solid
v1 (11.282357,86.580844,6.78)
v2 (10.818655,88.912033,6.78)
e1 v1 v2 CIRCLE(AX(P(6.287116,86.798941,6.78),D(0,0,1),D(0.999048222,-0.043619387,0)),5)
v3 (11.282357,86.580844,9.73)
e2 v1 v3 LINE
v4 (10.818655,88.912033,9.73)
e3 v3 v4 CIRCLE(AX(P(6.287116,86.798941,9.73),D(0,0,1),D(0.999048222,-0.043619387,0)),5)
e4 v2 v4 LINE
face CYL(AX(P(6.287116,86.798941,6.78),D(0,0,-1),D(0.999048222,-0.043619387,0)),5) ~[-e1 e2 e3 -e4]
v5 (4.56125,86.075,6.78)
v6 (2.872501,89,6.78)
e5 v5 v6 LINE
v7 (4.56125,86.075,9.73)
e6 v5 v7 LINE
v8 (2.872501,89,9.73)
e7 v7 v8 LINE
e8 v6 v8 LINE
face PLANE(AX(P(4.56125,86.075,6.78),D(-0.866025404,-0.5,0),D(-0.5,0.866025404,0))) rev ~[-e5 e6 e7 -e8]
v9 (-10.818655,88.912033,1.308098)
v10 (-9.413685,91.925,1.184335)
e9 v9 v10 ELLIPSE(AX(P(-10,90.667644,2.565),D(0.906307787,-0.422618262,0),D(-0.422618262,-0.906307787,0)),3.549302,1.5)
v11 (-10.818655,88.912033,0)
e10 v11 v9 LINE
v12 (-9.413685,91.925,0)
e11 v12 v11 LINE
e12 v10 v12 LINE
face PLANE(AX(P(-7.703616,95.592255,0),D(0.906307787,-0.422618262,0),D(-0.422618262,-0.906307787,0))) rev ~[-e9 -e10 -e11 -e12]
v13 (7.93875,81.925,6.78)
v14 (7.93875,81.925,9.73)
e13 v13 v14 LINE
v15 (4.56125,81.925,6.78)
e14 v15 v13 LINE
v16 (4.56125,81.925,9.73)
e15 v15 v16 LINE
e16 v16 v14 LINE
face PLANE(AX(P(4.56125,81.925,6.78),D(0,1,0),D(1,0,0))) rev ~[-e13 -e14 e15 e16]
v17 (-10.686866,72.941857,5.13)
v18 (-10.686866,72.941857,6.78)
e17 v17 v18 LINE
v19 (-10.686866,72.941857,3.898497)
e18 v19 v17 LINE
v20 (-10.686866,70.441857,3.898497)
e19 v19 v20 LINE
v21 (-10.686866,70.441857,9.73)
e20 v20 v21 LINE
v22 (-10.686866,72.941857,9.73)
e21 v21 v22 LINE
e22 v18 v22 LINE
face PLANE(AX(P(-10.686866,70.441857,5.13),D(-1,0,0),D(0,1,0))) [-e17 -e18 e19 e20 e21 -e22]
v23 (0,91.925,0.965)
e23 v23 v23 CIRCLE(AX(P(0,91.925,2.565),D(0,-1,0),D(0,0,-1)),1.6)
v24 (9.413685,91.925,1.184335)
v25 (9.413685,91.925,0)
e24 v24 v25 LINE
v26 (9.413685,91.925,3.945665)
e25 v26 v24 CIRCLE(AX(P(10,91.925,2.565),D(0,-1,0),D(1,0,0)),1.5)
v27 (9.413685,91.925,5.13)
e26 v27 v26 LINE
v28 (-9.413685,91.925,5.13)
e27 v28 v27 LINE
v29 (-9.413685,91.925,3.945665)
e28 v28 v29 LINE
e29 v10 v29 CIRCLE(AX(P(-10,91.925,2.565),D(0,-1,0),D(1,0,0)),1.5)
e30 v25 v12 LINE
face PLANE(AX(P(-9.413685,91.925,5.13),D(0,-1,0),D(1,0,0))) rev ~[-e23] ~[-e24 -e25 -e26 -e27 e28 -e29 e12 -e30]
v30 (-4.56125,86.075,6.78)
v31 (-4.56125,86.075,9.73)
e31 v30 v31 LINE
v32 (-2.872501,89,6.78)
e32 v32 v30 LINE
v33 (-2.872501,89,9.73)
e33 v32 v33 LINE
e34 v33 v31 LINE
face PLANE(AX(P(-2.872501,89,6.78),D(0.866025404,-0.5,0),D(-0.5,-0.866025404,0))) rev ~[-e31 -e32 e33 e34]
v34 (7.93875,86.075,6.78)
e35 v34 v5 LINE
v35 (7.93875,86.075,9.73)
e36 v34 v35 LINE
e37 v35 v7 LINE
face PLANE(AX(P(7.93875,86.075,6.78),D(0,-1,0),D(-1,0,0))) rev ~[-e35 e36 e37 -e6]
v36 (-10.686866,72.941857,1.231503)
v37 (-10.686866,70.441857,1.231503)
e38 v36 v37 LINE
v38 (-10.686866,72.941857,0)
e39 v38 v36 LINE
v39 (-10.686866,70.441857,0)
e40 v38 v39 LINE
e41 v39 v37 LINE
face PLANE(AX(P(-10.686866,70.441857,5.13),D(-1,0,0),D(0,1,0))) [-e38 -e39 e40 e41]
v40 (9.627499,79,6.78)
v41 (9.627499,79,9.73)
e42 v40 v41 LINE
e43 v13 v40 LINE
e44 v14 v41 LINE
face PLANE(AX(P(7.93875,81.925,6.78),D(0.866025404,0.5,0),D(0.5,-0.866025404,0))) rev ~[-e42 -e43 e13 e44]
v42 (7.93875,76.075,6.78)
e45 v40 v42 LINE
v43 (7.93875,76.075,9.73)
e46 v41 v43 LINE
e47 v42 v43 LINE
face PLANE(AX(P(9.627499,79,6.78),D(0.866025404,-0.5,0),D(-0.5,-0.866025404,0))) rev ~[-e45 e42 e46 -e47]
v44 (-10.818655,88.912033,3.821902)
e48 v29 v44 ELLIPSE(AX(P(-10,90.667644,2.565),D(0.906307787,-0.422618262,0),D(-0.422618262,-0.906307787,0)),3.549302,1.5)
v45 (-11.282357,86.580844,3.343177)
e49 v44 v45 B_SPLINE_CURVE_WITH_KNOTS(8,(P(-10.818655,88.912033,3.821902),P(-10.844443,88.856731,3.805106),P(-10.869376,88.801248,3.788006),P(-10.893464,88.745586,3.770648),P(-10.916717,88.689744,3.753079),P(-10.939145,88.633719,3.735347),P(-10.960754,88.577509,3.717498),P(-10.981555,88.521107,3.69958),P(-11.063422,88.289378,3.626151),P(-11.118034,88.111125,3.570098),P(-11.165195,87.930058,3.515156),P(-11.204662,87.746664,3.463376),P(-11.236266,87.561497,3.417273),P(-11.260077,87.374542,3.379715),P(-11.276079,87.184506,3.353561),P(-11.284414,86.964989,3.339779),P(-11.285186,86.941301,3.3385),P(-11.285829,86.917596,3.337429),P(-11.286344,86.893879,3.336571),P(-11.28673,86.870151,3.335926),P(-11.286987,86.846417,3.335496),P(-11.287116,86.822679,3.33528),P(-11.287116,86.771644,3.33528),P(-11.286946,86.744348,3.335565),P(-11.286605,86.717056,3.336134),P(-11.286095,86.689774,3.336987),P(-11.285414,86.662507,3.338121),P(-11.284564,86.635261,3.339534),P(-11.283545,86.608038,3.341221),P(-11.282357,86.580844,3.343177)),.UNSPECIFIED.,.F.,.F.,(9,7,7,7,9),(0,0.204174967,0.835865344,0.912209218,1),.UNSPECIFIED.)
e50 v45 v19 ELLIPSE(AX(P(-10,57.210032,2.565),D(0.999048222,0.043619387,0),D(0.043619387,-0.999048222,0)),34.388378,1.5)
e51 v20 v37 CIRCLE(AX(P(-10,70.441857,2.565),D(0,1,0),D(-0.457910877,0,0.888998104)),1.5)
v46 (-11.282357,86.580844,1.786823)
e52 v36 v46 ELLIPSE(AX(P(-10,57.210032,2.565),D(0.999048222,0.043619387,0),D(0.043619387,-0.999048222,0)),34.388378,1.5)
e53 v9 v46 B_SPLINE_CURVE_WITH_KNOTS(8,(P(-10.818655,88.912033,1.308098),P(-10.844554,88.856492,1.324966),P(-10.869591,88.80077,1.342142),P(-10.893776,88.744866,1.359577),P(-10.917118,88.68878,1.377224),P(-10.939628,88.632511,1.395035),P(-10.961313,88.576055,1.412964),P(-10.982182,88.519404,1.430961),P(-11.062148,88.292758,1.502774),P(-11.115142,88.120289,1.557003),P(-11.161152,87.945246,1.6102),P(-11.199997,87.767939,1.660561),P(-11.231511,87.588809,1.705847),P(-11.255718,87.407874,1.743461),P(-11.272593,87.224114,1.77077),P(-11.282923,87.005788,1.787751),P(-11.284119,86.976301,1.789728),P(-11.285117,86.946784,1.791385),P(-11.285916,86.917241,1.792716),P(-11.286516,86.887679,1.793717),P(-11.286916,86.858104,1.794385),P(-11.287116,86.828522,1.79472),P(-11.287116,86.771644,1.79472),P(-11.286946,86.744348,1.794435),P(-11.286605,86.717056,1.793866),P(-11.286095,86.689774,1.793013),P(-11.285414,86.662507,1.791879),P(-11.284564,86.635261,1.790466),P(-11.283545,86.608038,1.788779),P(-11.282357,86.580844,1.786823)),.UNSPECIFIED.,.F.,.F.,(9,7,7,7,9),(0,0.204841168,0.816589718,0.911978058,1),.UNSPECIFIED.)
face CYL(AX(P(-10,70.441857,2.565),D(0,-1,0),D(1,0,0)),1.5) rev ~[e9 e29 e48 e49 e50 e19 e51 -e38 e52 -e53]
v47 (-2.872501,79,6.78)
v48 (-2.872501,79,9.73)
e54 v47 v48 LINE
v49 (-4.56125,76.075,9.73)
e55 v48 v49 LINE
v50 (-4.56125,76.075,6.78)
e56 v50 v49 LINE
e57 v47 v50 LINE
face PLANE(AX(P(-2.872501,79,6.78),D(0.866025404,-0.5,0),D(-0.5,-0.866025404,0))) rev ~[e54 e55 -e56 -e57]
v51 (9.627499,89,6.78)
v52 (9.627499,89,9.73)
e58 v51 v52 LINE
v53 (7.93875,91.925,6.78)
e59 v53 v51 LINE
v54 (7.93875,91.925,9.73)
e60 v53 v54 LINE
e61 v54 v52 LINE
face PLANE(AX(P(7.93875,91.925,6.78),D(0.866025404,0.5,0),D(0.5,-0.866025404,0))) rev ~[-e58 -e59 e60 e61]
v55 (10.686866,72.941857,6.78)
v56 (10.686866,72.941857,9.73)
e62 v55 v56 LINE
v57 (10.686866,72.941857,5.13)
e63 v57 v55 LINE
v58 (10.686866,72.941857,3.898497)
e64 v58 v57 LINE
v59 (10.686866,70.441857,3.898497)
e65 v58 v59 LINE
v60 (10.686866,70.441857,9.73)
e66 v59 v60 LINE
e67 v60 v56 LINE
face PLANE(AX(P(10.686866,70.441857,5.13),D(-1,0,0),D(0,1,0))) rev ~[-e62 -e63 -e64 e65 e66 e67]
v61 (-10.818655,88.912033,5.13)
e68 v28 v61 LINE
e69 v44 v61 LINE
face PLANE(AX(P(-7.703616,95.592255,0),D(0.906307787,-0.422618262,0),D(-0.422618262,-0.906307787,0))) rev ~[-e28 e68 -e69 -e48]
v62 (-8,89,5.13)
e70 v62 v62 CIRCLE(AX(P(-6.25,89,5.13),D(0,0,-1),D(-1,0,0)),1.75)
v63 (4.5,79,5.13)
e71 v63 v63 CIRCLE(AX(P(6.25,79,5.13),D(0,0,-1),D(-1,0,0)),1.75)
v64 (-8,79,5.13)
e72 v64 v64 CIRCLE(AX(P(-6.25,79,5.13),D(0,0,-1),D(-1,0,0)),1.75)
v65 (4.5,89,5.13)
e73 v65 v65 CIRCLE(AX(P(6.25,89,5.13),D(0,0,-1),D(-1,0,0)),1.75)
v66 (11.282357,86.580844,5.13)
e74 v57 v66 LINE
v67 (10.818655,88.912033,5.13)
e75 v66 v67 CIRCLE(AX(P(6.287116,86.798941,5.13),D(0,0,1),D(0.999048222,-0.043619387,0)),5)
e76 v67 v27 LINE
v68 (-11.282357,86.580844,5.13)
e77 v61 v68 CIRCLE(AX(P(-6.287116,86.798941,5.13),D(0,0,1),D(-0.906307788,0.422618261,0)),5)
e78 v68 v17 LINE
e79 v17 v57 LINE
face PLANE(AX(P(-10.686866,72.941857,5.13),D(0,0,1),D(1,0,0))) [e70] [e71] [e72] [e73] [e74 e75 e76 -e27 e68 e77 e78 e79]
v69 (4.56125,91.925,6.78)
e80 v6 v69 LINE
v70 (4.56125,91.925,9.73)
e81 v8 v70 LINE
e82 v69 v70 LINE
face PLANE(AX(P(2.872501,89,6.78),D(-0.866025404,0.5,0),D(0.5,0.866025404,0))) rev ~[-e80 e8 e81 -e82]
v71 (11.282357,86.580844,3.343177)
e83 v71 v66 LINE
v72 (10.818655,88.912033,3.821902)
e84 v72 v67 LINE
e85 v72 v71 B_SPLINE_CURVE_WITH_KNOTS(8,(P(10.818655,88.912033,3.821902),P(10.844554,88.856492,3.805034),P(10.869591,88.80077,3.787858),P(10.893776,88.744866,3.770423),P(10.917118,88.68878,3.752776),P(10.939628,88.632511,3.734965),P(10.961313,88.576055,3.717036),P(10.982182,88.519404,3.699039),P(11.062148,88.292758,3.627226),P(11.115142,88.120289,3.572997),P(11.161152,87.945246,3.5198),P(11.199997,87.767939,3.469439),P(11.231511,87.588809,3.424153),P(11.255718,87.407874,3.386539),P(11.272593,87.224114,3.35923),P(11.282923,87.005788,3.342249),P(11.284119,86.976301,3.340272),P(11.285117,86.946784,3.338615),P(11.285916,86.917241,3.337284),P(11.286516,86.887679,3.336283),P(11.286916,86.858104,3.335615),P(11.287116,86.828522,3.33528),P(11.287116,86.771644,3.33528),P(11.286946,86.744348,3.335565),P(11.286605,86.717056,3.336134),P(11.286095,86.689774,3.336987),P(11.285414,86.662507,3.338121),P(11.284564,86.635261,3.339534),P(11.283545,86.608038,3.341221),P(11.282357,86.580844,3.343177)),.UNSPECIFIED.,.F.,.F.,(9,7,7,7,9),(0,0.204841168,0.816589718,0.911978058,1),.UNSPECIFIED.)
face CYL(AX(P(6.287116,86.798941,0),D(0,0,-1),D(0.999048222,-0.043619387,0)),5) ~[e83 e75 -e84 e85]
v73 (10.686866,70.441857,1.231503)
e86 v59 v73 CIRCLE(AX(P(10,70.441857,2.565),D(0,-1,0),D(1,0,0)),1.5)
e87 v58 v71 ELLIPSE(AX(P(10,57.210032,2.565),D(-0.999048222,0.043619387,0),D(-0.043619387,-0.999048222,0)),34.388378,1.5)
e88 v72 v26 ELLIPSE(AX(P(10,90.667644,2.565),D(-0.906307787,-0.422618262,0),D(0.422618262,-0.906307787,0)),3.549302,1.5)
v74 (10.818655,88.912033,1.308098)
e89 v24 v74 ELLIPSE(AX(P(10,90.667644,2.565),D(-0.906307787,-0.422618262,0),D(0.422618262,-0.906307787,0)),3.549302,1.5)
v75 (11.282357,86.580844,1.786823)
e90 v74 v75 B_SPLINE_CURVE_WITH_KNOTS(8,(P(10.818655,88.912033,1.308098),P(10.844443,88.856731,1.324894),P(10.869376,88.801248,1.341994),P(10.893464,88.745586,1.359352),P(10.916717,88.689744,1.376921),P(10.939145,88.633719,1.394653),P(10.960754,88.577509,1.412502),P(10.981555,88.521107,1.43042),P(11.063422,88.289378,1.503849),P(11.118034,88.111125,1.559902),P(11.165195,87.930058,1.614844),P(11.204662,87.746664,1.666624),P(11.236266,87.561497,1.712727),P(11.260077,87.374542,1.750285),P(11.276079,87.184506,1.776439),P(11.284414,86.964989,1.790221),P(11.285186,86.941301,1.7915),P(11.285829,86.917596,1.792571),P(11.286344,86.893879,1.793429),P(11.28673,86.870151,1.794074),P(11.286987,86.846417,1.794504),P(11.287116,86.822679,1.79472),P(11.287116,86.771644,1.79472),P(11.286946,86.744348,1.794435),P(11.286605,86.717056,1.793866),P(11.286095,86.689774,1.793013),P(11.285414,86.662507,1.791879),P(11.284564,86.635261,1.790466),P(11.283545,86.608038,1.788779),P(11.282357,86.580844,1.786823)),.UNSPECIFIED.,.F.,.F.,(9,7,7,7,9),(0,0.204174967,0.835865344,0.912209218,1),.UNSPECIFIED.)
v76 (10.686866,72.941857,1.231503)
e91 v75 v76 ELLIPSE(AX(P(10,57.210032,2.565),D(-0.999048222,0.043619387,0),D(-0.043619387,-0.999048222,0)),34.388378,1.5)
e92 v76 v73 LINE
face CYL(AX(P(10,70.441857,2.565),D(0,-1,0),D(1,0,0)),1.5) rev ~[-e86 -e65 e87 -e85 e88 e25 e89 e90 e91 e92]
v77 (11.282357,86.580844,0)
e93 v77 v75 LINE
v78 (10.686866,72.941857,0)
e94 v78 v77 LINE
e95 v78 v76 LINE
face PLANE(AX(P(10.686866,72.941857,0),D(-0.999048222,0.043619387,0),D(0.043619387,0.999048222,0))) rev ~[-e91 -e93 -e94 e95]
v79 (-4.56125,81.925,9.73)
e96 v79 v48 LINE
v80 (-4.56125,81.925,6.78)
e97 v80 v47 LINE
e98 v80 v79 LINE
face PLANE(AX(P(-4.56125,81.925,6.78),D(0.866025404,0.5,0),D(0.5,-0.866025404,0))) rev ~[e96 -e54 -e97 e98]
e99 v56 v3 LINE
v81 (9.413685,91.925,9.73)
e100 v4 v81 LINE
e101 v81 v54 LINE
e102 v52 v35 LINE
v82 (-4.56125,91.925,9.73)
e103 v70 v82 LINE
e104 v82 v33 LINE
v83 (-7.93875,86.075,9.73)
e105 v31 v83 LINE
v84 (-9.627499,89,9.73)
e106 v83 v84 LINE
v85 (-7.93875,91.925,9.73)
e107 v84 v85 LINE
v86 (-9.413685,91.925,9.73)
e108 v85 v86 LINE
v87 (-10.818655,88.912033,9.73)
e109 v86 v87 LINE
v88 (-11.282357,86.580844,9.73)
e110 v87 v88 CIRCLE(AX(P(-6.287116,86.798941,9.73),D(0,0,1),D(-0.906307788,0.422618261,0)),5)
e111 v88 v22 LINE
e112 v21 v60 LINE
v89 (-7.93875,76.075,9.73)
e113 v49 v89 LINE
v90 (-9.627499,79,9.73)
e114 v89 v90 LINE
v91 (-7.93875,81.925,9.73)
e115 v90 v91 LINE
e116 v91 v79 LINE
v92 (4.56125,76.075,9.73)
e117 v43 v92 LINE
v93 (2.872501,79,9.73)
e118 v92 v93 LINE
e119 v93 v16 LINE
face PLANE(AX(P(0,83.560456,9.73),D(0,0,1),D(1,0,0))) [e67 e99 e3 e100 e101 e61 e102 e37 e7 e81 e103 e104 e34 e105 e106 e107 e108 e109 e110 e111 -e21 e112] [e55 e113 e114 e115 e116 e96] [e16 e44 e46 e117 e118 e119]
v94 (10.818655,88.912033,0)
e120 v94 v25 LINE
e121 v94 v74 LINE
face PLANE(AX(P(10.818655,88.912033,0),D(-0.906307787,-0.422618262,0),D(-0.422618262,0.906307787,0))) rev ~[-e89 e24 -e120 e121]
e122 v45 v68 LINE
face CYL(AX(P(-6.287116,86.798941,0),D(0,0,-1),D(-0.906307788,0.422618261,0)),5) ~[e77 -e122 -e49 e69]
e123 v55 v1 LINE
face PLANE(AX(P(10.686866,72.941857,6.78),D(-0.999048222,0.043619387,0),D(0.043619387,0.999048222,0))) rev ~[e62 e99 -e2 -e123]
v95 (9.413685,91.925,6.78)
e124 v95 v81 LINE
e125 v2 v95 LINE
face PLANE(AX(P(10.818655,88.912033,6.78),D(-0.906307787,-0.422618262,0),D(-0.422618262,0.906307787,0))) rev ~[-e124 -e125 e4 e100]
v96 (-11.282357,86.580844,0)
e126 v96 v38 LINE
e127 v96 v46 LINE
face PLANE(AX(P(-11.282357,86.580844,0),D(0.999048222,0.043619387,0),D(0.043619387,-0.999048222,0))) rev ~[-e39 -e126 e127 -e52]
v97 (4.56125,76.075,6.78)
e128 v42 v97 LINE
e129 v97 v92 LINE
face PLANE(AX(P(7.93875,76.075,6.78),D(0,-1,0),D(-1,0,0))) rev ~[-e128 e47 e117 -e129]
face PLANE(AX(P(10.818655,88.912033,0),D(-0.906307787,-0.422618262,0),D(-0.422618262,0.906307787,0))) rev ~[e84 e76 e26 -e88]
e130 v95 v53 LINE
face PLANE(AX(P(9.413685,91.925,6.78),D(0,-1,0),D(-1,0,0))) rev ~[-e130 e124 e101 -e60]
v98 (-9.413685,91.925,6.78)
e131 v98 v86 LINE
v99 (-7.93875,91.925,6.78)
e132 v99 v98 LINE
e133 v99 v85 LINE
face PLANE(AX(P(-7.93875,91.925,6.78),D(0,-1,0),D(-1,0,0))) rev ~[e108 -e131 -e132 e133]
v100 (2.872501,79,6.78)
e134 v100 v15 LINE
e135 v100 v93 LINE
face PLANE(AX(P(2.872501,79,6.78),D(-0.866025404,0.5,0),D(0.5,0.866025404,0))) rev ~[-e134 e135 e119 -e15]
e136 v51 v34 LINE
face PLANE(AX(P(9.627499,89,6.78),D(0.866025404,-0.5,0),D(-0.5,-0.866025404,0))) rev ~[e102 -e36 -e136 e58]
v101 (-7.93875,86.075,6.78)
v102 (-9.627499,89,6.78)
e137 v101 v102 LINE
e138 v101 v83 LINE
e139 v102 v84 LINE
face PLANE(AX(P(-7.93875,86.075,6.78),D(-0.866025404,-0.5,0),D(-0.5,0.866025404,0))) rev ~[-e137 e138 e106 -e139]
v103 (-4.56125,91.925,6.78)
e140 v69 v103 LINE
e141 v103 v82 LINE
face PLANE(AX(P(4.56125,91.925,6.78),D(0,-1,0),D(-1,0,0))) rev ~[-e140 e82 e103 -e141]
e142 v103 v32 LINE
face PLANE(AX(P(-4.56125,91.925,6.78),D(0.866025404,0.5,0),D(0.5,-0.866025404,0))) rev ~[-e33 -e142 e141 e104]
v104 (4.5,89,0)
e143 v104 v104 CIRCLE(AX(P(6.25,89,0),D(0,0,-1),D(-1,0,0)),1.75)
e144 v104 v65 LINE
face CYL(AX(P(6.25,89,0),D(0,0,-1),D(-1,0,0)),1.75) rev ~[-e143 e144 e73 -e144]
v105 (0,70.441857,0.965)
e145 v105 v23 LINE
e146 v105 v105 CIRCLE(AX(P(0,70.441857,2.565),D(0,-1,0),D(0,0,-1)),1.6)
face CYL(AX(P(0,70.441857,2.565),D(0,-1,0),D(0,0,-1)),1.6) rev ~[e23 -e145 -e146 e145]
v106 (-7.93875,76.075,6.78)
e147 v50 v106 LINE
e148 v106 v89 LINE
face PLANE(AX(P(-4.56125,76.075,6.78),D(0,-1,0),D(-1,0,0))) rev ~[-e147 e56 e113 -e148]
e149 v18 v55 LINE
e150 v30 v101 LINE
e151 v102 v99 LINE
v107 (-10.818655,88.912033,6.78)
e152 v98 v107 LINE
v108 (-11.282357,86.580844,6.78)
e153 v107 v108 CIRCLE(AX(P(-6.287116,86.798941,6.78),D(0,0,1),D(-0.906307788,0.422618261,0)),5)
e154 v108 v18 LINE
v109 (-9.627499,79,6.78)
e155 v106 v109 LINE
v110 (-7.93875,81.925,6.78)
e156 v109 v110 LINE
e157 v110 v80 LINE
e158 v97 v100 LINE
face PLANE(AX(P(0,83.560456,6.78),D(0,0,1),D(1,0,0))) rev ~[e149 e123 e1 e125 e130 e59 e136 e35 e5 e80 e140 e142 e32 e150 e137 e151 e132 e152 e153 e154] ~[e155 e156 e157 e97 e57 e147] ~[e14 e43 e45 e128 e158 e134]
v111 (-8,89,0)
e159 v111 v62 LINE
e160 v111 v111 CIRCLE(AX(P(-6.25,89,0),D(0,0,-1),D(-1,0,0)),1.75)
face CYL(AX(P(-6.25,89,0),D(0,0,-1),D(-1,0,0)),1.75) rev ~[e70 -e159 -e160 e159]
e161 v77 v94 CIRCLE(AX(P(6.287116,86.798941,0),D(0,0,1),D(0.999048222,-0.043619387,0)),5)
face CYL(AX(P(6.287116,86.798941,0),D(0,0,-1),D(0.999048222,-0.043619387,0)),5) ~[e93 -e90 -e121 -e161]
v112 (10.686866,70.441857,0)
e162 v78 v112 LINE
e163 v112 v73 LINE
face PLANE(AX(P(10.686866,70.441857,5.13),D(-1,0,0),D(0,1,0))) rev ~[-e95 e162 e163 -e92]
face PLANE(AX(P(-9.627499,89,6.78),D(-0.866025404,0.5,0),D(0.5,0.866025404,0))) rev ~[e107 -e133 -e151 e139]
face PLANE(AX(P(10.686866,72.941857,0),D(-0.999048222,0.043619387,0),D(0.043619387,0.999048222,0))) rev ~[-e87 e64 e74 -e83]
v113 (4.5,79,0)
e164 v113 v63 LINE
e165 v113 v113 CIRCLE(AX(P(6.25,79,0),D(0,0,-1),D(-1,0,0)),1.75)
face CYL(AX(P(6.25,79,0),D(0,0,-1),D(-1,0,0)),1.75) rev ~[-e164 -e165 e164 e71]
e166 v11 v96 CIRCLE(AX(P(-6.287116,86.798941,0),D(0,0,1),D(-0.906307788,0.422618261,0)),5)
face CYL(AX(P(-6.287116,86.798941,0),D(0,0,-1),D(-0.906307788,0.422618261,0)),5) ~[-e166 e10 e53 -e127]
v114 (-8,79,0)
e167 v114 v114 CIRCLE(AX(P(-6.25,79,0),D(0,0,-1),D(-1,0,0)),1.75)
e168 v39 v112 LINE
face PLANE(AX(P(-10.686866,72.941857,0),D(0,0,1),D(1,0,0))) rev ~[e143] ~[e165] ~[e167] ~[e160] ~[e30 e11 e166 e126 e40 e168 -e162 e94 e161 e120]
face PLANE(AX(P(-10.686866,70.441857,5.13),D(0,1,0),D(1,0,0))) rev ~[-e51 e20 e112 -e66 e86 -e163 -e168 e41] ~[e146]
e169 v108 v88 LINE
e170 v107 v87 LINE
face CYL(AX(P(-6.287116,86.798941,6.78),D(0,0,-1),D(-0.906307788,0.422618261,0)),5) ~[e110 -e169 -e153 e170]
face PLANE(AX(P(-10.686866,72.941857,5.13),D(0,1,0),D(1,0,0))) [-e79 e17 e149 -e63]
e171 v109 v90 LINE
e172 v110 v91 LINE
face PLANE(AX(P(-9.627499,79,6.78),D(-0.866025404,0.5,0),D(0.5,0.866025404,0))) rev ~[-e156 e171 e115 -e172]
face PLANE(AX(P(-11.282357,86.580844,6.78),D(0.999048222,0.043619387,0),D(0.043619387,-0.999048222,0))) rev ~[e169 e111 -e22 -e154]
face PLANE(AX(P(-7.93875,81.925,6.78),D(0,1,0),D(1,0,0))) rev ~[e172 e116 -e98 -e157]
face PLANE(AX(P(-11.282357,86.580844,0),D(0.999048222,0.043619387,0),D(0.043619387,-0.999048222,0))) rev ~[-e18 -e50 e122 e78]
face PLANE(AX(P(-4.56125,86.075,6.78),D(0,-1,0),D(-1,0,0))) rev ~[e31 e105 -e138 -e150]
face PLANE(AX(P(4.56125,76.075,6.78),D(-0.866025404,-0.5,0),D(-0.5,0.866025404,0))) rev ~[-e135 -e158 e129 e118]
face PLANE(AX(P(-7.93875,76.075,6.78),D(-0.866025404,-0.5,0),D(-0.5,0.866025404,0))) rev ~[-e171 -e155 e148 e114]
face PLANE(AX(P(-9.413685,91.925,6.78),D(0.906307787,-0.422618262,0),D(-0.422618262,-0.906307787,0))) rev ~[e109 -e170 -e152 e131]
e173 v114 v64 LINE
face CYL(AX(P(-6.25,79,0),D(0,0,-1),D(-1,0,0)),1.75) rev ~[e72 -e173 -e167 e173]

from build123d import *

# Parameters (mm, degrees)
SKETCH1_R           = 1.5
BOSS_EXTRUDE1_DEPTH = 5.13
SKETCH2_W           = 21.373732632
SKETCH2_H           = 5.13
BOSS_EXTRUDE2_DEPTH = 2.5
SKETCH3_W           = 21.373732632
SKETCH3_H           = 2.5
BOSS_EXTRUDE3_DEPTH = 4.6
BOSS_EXTRUDE4_START = -2.95
BOSS_EXTRUDE4_DEPTH = 2.95
CUT_EXTRUDE1_REACH  = 103.599
SKETCH5_R           = 1.75
SKETCH6_R           = 1.6
SKETCH6_R_2         = 1.5
CUT_EXTRUDE2_DEPTH  = 34.549423701
CUT_EXTRUDE3_REACH  = 103.262


with BuildPart() as part:
    # Sketch1 → Boss-Extrude1 (new body)
    with BuildSketch(Plane.XY):
        with BuildLine():
            Line((-11.282357346, 86.580844321), (-10.686866316, 72.941857381))
            Line((-10.686866316, 72.941857381), (10.686866316, 72.941857381))
            Line((10.686866316, 72.941857381), (11.282357346, 86.580844321))
            ThreePointArc((11.282357346, 86.580844321), (11.19104264, 87.774392868), (10.818655174, 88.912032567))
            Line((10.818655174, 88.912032567), (7.70361619, 95.592255225))
            ThreePointArc((7.70361619, 95.592255225), (0, 100.5), (-7.70361619, 95.592255225))
            Line((-7.70361619, 95.592255225), (-10.818655174, 88.912032567))
            ThreePointArc((-10.818655174, 88.912032567), (-11.19104264, 87.774392868), (-11.282357346, 86.580844321))
        make_face()
        with Locations((-6.25, 79)):
            Circle(SKETCH1_R, mode=Mode.SUBTRACT)
        with Locations((-6.25, 89)):
            Circle(SKETCH1_R, mode=Mode.SUBTRACT)
        with Locations((6.25, 79)):
            Circle(SKETCH1_R, mode=Mode.SUBTRACT)
        with Locations((6.25, 89)):
            Circle(SKETCH1_R, mode=Mode.SUBTRACT)
    extrude(amount=BOSS_EXTRUDE1_DEPTH)

    # Sketch2 → Boss-Extrude2 (add)
    with BuildSketch(Plane.XZ.offset(-72.941857381)):
        with Locations((0, 2.565)):
            Rectangle(SKETCH2_W, SKETCH2_H)
    extrude(amount=BOSS_EXTRUDE2_DEPTH)

    # Sketch3 → Boss-Extrude3 (add)
    with BuildSketch(Plane.XY.offset(5.13)):
        with Locations((0, 71.691857381)):
            Rectangle(SKETCH3_W, SKETCH3_H)
    extrude(amount=BOSS_EXTRUDE3_DEPTH)

    # Sketch4 → Boss-Extrude4 (add)
    with BuildSketch(Plane.XY.offset(9.73).offset(BOSS_EXTRUDE4_START)):
        with BuildLine():
            Line((4.561250463, 86.075), (2.872500925, 89))
            Line((2.872500925, 89), (4.561250463, 91.925))
            Line((4.561250463, 91.925), (-4.561250463, 91.925))
            Line((-4.561250463, 91.925), (-2.872500925, 89))
            Line((-2.872500925, 89), (-4.561250463, 86.075))
            Line((-4.561250463, 86.075), (-7.938749537, 86.075))
            Line((-7.938749537, 86.075), (-9.627499075, 89))
            Line((-9.627499075, 89), (-7.938749537, 91.925))
            Line((-7.938749537, 91.925), (-9.413685386, 91.925))
            Line((-9.413685386, 91.925), (-10.818655174, 88.912032567))
            ThreePointArc((-10.818655174, 88.912032567), (-11.19104264, 87.774392868), (-11.282357346, 86.580844321))
            Line((-11.282357346, 86.580844321), (-10.686866316, 72.941857381))
            Line((-10.686866316, 72.941857381), (10.686866316, 72.941857381))
            Line((10.686866316, 72.941857381), (11.282357346, 86.580844321))
            ThreePointArc((11.282357346, 86.580844321), (11.19104264, 87.774392868), (10.818655174, 88.912032567))
            Line((10.818655174, 88.912032567), (9.413685386, 91.925))
            Line((9.413685386, 91.925), (7.938749537, 91.925))
            Line((7.938749537, 91.925), (9.627499075, 89))
            Line((9.627499075, 89), (7.938749537, 86.075))
            Line((7.938749537, 86.075), (4.561250463, 86.075))
        make_face()
        Polygon((-4.561250463, 81.925), (-2.872500925, 79), (-4.561250463, 76.075), (-7.938749537, 76.075), (-9.627499075, 79), (-7.938749537, 81.925), align=None, mode=Mode.SUBTRACT)
        Polygon((7.938749537, 81.925), (9.627499075, 79), (7.938749537, 76.075), (4.561250463, 76.075), (2.872500925, 79), (4.561250463, 81.925), align=None, mode=Mode.SUBTRACT)
    extrude(amount=BOSS_EXTRUDE4_DEPTH)

    # Sketch5 → Cut-Extrude1 (cut, up to next)
    with BuildSketch(Plane(origin=(0, 0, 0), x_dir=(-1, 0, 0), z_dir=(0, 0, -1)), mode=Mode.PRIVATE) as cut_extrude1_sk1:
        with Locations((-6.25, 89)):
            Circle(SKETCH5_R)
    cut_extrude1_tool1 = extrude(cut_extrude1_sk1.sketch, amount=-CUT_EXTRUDE1_REACH, mode=Mode.PRIVATE) & part.part
    # Sketch5 → Cut-Extrude1 (cut, up to next)
    with BuildSketch(Plane(origin=(0, 0, 0), x_dir=(-1, 0, 0), z_dir=(0, 0, -1)), mode=Mode.PRIVATE) as cut_extrude1_sk2:
        with Locations((6.25, 89)):
            Circle(SKETCH5_R)
    cut_extrude1_tool2 = extrude(cut_extrude1_sk2.sketch, amount=-CUT_EXTRUDE1_REACH, mode=Mode.PRIVATE) & part.part
    # Sketch5 → Cut-Extrude1 (cut, up to next)
    with BuildSketch(Plane(origin=(0, 0, 0), x_dir=(-1, 0, 0), z_dir=(0, 0, -1)), mode=Mode.PRIVATE) as cut_extrude1_sk3:
        with Locations((6.25, 79)):
            Circle(SKETCH5_R)
    cut_extrude1_tool3 = extrude(cut_extrude1_sk3.sketch, amount=-CUT_EXTRUDE1_REACH, mode=Mode.PRIVATE) & part.part
    # Sketch5 → Cut-Extrude1 (cut, up to next)
    with BuildSketch(Plane(origin=(0, 0, 0), x_dir=(-1, 0, 0), z_dir=(0, 0, -1)), mode=Mode.PRIVATE) as cut_extrude1_sk4:
        with Locations((-6.25, 79)):
            Circle(SKETCH5_R)
    cut_extrude1_tool4 = extrude(cut_extrude1_sk4.sketch, amount=-CUT_EXTRUDE1_REACH, mode=Mode.PRIVATE) & part.part
    add(cut_extrude1_tool1.solids().sort_by_distance((6.25, 89, 0))[0], mode=Mode.SUBTRACT)
    add(cut_extrude1_tool2.solids().sort_by_distance((-6.25, 89, 0))[0], mode=Mode.SUBTRACT)
    add(cut_extrude1_tool3.solids().sort_by_distance((-6.25, 79, 0))[0], mode=Mode.SUBTRACT)
    add(cut_extrude1_tool4.solids().sort_by_distance((6.25, 79, 0))[0], mode=Mode.SUBTRACT)

    # Sketch6 → Cut-Extrude2 (cut, through all)
    with BuildSketch(Plane.XZ.offset(-70.441857381)):
        with Locations(Location((0, 2.565, 0), (0, 0, 270))):
            Circle(SKETCH6_R)
        with Locations((-10, 2.565)):
            Circle(SKETCH6_R_2)
        with Locations((10, 2.565)):
            Circle(SKETCH6_R_2)
    extrude(amount=-CUT_EXTRUDE2_DEPTH, mode=Mode.SUBTRACT)

    # Sketch7 → Cut-Extrude3 (cut, up to next)
    with BuildSketch(Plane.XY.offset(5.13), mode=Mode.PRIVATE) as cut_extrude3_sk1:
        with BuildLine():
            Line((-7.70361619, 95.592255225), (-9.413685386, 91.925))
            Line((-9.413685386, 91.925), (9.413685386, 91.925))
            Line((9.413685386, 91.925), (7.70361619, 95.592255225))
            ThreePointArc((7.70361619, 95.592255225), (0, 100.5), (-7.70361619, 95.592255225))
        make_face()
    cut_extrude3_tool1 = extrude(cut_extrude3_sk1.sketch, amount=-CUT_EXTRUDE3_REACH, mode=Mode.PRIVATE) & part.part
    add(cut_extrude3_tool1.solids().sort_by_distance((0, 95.513825, 5.13))[0], mode=Mode.SUBTRACT)


solid = part.part
